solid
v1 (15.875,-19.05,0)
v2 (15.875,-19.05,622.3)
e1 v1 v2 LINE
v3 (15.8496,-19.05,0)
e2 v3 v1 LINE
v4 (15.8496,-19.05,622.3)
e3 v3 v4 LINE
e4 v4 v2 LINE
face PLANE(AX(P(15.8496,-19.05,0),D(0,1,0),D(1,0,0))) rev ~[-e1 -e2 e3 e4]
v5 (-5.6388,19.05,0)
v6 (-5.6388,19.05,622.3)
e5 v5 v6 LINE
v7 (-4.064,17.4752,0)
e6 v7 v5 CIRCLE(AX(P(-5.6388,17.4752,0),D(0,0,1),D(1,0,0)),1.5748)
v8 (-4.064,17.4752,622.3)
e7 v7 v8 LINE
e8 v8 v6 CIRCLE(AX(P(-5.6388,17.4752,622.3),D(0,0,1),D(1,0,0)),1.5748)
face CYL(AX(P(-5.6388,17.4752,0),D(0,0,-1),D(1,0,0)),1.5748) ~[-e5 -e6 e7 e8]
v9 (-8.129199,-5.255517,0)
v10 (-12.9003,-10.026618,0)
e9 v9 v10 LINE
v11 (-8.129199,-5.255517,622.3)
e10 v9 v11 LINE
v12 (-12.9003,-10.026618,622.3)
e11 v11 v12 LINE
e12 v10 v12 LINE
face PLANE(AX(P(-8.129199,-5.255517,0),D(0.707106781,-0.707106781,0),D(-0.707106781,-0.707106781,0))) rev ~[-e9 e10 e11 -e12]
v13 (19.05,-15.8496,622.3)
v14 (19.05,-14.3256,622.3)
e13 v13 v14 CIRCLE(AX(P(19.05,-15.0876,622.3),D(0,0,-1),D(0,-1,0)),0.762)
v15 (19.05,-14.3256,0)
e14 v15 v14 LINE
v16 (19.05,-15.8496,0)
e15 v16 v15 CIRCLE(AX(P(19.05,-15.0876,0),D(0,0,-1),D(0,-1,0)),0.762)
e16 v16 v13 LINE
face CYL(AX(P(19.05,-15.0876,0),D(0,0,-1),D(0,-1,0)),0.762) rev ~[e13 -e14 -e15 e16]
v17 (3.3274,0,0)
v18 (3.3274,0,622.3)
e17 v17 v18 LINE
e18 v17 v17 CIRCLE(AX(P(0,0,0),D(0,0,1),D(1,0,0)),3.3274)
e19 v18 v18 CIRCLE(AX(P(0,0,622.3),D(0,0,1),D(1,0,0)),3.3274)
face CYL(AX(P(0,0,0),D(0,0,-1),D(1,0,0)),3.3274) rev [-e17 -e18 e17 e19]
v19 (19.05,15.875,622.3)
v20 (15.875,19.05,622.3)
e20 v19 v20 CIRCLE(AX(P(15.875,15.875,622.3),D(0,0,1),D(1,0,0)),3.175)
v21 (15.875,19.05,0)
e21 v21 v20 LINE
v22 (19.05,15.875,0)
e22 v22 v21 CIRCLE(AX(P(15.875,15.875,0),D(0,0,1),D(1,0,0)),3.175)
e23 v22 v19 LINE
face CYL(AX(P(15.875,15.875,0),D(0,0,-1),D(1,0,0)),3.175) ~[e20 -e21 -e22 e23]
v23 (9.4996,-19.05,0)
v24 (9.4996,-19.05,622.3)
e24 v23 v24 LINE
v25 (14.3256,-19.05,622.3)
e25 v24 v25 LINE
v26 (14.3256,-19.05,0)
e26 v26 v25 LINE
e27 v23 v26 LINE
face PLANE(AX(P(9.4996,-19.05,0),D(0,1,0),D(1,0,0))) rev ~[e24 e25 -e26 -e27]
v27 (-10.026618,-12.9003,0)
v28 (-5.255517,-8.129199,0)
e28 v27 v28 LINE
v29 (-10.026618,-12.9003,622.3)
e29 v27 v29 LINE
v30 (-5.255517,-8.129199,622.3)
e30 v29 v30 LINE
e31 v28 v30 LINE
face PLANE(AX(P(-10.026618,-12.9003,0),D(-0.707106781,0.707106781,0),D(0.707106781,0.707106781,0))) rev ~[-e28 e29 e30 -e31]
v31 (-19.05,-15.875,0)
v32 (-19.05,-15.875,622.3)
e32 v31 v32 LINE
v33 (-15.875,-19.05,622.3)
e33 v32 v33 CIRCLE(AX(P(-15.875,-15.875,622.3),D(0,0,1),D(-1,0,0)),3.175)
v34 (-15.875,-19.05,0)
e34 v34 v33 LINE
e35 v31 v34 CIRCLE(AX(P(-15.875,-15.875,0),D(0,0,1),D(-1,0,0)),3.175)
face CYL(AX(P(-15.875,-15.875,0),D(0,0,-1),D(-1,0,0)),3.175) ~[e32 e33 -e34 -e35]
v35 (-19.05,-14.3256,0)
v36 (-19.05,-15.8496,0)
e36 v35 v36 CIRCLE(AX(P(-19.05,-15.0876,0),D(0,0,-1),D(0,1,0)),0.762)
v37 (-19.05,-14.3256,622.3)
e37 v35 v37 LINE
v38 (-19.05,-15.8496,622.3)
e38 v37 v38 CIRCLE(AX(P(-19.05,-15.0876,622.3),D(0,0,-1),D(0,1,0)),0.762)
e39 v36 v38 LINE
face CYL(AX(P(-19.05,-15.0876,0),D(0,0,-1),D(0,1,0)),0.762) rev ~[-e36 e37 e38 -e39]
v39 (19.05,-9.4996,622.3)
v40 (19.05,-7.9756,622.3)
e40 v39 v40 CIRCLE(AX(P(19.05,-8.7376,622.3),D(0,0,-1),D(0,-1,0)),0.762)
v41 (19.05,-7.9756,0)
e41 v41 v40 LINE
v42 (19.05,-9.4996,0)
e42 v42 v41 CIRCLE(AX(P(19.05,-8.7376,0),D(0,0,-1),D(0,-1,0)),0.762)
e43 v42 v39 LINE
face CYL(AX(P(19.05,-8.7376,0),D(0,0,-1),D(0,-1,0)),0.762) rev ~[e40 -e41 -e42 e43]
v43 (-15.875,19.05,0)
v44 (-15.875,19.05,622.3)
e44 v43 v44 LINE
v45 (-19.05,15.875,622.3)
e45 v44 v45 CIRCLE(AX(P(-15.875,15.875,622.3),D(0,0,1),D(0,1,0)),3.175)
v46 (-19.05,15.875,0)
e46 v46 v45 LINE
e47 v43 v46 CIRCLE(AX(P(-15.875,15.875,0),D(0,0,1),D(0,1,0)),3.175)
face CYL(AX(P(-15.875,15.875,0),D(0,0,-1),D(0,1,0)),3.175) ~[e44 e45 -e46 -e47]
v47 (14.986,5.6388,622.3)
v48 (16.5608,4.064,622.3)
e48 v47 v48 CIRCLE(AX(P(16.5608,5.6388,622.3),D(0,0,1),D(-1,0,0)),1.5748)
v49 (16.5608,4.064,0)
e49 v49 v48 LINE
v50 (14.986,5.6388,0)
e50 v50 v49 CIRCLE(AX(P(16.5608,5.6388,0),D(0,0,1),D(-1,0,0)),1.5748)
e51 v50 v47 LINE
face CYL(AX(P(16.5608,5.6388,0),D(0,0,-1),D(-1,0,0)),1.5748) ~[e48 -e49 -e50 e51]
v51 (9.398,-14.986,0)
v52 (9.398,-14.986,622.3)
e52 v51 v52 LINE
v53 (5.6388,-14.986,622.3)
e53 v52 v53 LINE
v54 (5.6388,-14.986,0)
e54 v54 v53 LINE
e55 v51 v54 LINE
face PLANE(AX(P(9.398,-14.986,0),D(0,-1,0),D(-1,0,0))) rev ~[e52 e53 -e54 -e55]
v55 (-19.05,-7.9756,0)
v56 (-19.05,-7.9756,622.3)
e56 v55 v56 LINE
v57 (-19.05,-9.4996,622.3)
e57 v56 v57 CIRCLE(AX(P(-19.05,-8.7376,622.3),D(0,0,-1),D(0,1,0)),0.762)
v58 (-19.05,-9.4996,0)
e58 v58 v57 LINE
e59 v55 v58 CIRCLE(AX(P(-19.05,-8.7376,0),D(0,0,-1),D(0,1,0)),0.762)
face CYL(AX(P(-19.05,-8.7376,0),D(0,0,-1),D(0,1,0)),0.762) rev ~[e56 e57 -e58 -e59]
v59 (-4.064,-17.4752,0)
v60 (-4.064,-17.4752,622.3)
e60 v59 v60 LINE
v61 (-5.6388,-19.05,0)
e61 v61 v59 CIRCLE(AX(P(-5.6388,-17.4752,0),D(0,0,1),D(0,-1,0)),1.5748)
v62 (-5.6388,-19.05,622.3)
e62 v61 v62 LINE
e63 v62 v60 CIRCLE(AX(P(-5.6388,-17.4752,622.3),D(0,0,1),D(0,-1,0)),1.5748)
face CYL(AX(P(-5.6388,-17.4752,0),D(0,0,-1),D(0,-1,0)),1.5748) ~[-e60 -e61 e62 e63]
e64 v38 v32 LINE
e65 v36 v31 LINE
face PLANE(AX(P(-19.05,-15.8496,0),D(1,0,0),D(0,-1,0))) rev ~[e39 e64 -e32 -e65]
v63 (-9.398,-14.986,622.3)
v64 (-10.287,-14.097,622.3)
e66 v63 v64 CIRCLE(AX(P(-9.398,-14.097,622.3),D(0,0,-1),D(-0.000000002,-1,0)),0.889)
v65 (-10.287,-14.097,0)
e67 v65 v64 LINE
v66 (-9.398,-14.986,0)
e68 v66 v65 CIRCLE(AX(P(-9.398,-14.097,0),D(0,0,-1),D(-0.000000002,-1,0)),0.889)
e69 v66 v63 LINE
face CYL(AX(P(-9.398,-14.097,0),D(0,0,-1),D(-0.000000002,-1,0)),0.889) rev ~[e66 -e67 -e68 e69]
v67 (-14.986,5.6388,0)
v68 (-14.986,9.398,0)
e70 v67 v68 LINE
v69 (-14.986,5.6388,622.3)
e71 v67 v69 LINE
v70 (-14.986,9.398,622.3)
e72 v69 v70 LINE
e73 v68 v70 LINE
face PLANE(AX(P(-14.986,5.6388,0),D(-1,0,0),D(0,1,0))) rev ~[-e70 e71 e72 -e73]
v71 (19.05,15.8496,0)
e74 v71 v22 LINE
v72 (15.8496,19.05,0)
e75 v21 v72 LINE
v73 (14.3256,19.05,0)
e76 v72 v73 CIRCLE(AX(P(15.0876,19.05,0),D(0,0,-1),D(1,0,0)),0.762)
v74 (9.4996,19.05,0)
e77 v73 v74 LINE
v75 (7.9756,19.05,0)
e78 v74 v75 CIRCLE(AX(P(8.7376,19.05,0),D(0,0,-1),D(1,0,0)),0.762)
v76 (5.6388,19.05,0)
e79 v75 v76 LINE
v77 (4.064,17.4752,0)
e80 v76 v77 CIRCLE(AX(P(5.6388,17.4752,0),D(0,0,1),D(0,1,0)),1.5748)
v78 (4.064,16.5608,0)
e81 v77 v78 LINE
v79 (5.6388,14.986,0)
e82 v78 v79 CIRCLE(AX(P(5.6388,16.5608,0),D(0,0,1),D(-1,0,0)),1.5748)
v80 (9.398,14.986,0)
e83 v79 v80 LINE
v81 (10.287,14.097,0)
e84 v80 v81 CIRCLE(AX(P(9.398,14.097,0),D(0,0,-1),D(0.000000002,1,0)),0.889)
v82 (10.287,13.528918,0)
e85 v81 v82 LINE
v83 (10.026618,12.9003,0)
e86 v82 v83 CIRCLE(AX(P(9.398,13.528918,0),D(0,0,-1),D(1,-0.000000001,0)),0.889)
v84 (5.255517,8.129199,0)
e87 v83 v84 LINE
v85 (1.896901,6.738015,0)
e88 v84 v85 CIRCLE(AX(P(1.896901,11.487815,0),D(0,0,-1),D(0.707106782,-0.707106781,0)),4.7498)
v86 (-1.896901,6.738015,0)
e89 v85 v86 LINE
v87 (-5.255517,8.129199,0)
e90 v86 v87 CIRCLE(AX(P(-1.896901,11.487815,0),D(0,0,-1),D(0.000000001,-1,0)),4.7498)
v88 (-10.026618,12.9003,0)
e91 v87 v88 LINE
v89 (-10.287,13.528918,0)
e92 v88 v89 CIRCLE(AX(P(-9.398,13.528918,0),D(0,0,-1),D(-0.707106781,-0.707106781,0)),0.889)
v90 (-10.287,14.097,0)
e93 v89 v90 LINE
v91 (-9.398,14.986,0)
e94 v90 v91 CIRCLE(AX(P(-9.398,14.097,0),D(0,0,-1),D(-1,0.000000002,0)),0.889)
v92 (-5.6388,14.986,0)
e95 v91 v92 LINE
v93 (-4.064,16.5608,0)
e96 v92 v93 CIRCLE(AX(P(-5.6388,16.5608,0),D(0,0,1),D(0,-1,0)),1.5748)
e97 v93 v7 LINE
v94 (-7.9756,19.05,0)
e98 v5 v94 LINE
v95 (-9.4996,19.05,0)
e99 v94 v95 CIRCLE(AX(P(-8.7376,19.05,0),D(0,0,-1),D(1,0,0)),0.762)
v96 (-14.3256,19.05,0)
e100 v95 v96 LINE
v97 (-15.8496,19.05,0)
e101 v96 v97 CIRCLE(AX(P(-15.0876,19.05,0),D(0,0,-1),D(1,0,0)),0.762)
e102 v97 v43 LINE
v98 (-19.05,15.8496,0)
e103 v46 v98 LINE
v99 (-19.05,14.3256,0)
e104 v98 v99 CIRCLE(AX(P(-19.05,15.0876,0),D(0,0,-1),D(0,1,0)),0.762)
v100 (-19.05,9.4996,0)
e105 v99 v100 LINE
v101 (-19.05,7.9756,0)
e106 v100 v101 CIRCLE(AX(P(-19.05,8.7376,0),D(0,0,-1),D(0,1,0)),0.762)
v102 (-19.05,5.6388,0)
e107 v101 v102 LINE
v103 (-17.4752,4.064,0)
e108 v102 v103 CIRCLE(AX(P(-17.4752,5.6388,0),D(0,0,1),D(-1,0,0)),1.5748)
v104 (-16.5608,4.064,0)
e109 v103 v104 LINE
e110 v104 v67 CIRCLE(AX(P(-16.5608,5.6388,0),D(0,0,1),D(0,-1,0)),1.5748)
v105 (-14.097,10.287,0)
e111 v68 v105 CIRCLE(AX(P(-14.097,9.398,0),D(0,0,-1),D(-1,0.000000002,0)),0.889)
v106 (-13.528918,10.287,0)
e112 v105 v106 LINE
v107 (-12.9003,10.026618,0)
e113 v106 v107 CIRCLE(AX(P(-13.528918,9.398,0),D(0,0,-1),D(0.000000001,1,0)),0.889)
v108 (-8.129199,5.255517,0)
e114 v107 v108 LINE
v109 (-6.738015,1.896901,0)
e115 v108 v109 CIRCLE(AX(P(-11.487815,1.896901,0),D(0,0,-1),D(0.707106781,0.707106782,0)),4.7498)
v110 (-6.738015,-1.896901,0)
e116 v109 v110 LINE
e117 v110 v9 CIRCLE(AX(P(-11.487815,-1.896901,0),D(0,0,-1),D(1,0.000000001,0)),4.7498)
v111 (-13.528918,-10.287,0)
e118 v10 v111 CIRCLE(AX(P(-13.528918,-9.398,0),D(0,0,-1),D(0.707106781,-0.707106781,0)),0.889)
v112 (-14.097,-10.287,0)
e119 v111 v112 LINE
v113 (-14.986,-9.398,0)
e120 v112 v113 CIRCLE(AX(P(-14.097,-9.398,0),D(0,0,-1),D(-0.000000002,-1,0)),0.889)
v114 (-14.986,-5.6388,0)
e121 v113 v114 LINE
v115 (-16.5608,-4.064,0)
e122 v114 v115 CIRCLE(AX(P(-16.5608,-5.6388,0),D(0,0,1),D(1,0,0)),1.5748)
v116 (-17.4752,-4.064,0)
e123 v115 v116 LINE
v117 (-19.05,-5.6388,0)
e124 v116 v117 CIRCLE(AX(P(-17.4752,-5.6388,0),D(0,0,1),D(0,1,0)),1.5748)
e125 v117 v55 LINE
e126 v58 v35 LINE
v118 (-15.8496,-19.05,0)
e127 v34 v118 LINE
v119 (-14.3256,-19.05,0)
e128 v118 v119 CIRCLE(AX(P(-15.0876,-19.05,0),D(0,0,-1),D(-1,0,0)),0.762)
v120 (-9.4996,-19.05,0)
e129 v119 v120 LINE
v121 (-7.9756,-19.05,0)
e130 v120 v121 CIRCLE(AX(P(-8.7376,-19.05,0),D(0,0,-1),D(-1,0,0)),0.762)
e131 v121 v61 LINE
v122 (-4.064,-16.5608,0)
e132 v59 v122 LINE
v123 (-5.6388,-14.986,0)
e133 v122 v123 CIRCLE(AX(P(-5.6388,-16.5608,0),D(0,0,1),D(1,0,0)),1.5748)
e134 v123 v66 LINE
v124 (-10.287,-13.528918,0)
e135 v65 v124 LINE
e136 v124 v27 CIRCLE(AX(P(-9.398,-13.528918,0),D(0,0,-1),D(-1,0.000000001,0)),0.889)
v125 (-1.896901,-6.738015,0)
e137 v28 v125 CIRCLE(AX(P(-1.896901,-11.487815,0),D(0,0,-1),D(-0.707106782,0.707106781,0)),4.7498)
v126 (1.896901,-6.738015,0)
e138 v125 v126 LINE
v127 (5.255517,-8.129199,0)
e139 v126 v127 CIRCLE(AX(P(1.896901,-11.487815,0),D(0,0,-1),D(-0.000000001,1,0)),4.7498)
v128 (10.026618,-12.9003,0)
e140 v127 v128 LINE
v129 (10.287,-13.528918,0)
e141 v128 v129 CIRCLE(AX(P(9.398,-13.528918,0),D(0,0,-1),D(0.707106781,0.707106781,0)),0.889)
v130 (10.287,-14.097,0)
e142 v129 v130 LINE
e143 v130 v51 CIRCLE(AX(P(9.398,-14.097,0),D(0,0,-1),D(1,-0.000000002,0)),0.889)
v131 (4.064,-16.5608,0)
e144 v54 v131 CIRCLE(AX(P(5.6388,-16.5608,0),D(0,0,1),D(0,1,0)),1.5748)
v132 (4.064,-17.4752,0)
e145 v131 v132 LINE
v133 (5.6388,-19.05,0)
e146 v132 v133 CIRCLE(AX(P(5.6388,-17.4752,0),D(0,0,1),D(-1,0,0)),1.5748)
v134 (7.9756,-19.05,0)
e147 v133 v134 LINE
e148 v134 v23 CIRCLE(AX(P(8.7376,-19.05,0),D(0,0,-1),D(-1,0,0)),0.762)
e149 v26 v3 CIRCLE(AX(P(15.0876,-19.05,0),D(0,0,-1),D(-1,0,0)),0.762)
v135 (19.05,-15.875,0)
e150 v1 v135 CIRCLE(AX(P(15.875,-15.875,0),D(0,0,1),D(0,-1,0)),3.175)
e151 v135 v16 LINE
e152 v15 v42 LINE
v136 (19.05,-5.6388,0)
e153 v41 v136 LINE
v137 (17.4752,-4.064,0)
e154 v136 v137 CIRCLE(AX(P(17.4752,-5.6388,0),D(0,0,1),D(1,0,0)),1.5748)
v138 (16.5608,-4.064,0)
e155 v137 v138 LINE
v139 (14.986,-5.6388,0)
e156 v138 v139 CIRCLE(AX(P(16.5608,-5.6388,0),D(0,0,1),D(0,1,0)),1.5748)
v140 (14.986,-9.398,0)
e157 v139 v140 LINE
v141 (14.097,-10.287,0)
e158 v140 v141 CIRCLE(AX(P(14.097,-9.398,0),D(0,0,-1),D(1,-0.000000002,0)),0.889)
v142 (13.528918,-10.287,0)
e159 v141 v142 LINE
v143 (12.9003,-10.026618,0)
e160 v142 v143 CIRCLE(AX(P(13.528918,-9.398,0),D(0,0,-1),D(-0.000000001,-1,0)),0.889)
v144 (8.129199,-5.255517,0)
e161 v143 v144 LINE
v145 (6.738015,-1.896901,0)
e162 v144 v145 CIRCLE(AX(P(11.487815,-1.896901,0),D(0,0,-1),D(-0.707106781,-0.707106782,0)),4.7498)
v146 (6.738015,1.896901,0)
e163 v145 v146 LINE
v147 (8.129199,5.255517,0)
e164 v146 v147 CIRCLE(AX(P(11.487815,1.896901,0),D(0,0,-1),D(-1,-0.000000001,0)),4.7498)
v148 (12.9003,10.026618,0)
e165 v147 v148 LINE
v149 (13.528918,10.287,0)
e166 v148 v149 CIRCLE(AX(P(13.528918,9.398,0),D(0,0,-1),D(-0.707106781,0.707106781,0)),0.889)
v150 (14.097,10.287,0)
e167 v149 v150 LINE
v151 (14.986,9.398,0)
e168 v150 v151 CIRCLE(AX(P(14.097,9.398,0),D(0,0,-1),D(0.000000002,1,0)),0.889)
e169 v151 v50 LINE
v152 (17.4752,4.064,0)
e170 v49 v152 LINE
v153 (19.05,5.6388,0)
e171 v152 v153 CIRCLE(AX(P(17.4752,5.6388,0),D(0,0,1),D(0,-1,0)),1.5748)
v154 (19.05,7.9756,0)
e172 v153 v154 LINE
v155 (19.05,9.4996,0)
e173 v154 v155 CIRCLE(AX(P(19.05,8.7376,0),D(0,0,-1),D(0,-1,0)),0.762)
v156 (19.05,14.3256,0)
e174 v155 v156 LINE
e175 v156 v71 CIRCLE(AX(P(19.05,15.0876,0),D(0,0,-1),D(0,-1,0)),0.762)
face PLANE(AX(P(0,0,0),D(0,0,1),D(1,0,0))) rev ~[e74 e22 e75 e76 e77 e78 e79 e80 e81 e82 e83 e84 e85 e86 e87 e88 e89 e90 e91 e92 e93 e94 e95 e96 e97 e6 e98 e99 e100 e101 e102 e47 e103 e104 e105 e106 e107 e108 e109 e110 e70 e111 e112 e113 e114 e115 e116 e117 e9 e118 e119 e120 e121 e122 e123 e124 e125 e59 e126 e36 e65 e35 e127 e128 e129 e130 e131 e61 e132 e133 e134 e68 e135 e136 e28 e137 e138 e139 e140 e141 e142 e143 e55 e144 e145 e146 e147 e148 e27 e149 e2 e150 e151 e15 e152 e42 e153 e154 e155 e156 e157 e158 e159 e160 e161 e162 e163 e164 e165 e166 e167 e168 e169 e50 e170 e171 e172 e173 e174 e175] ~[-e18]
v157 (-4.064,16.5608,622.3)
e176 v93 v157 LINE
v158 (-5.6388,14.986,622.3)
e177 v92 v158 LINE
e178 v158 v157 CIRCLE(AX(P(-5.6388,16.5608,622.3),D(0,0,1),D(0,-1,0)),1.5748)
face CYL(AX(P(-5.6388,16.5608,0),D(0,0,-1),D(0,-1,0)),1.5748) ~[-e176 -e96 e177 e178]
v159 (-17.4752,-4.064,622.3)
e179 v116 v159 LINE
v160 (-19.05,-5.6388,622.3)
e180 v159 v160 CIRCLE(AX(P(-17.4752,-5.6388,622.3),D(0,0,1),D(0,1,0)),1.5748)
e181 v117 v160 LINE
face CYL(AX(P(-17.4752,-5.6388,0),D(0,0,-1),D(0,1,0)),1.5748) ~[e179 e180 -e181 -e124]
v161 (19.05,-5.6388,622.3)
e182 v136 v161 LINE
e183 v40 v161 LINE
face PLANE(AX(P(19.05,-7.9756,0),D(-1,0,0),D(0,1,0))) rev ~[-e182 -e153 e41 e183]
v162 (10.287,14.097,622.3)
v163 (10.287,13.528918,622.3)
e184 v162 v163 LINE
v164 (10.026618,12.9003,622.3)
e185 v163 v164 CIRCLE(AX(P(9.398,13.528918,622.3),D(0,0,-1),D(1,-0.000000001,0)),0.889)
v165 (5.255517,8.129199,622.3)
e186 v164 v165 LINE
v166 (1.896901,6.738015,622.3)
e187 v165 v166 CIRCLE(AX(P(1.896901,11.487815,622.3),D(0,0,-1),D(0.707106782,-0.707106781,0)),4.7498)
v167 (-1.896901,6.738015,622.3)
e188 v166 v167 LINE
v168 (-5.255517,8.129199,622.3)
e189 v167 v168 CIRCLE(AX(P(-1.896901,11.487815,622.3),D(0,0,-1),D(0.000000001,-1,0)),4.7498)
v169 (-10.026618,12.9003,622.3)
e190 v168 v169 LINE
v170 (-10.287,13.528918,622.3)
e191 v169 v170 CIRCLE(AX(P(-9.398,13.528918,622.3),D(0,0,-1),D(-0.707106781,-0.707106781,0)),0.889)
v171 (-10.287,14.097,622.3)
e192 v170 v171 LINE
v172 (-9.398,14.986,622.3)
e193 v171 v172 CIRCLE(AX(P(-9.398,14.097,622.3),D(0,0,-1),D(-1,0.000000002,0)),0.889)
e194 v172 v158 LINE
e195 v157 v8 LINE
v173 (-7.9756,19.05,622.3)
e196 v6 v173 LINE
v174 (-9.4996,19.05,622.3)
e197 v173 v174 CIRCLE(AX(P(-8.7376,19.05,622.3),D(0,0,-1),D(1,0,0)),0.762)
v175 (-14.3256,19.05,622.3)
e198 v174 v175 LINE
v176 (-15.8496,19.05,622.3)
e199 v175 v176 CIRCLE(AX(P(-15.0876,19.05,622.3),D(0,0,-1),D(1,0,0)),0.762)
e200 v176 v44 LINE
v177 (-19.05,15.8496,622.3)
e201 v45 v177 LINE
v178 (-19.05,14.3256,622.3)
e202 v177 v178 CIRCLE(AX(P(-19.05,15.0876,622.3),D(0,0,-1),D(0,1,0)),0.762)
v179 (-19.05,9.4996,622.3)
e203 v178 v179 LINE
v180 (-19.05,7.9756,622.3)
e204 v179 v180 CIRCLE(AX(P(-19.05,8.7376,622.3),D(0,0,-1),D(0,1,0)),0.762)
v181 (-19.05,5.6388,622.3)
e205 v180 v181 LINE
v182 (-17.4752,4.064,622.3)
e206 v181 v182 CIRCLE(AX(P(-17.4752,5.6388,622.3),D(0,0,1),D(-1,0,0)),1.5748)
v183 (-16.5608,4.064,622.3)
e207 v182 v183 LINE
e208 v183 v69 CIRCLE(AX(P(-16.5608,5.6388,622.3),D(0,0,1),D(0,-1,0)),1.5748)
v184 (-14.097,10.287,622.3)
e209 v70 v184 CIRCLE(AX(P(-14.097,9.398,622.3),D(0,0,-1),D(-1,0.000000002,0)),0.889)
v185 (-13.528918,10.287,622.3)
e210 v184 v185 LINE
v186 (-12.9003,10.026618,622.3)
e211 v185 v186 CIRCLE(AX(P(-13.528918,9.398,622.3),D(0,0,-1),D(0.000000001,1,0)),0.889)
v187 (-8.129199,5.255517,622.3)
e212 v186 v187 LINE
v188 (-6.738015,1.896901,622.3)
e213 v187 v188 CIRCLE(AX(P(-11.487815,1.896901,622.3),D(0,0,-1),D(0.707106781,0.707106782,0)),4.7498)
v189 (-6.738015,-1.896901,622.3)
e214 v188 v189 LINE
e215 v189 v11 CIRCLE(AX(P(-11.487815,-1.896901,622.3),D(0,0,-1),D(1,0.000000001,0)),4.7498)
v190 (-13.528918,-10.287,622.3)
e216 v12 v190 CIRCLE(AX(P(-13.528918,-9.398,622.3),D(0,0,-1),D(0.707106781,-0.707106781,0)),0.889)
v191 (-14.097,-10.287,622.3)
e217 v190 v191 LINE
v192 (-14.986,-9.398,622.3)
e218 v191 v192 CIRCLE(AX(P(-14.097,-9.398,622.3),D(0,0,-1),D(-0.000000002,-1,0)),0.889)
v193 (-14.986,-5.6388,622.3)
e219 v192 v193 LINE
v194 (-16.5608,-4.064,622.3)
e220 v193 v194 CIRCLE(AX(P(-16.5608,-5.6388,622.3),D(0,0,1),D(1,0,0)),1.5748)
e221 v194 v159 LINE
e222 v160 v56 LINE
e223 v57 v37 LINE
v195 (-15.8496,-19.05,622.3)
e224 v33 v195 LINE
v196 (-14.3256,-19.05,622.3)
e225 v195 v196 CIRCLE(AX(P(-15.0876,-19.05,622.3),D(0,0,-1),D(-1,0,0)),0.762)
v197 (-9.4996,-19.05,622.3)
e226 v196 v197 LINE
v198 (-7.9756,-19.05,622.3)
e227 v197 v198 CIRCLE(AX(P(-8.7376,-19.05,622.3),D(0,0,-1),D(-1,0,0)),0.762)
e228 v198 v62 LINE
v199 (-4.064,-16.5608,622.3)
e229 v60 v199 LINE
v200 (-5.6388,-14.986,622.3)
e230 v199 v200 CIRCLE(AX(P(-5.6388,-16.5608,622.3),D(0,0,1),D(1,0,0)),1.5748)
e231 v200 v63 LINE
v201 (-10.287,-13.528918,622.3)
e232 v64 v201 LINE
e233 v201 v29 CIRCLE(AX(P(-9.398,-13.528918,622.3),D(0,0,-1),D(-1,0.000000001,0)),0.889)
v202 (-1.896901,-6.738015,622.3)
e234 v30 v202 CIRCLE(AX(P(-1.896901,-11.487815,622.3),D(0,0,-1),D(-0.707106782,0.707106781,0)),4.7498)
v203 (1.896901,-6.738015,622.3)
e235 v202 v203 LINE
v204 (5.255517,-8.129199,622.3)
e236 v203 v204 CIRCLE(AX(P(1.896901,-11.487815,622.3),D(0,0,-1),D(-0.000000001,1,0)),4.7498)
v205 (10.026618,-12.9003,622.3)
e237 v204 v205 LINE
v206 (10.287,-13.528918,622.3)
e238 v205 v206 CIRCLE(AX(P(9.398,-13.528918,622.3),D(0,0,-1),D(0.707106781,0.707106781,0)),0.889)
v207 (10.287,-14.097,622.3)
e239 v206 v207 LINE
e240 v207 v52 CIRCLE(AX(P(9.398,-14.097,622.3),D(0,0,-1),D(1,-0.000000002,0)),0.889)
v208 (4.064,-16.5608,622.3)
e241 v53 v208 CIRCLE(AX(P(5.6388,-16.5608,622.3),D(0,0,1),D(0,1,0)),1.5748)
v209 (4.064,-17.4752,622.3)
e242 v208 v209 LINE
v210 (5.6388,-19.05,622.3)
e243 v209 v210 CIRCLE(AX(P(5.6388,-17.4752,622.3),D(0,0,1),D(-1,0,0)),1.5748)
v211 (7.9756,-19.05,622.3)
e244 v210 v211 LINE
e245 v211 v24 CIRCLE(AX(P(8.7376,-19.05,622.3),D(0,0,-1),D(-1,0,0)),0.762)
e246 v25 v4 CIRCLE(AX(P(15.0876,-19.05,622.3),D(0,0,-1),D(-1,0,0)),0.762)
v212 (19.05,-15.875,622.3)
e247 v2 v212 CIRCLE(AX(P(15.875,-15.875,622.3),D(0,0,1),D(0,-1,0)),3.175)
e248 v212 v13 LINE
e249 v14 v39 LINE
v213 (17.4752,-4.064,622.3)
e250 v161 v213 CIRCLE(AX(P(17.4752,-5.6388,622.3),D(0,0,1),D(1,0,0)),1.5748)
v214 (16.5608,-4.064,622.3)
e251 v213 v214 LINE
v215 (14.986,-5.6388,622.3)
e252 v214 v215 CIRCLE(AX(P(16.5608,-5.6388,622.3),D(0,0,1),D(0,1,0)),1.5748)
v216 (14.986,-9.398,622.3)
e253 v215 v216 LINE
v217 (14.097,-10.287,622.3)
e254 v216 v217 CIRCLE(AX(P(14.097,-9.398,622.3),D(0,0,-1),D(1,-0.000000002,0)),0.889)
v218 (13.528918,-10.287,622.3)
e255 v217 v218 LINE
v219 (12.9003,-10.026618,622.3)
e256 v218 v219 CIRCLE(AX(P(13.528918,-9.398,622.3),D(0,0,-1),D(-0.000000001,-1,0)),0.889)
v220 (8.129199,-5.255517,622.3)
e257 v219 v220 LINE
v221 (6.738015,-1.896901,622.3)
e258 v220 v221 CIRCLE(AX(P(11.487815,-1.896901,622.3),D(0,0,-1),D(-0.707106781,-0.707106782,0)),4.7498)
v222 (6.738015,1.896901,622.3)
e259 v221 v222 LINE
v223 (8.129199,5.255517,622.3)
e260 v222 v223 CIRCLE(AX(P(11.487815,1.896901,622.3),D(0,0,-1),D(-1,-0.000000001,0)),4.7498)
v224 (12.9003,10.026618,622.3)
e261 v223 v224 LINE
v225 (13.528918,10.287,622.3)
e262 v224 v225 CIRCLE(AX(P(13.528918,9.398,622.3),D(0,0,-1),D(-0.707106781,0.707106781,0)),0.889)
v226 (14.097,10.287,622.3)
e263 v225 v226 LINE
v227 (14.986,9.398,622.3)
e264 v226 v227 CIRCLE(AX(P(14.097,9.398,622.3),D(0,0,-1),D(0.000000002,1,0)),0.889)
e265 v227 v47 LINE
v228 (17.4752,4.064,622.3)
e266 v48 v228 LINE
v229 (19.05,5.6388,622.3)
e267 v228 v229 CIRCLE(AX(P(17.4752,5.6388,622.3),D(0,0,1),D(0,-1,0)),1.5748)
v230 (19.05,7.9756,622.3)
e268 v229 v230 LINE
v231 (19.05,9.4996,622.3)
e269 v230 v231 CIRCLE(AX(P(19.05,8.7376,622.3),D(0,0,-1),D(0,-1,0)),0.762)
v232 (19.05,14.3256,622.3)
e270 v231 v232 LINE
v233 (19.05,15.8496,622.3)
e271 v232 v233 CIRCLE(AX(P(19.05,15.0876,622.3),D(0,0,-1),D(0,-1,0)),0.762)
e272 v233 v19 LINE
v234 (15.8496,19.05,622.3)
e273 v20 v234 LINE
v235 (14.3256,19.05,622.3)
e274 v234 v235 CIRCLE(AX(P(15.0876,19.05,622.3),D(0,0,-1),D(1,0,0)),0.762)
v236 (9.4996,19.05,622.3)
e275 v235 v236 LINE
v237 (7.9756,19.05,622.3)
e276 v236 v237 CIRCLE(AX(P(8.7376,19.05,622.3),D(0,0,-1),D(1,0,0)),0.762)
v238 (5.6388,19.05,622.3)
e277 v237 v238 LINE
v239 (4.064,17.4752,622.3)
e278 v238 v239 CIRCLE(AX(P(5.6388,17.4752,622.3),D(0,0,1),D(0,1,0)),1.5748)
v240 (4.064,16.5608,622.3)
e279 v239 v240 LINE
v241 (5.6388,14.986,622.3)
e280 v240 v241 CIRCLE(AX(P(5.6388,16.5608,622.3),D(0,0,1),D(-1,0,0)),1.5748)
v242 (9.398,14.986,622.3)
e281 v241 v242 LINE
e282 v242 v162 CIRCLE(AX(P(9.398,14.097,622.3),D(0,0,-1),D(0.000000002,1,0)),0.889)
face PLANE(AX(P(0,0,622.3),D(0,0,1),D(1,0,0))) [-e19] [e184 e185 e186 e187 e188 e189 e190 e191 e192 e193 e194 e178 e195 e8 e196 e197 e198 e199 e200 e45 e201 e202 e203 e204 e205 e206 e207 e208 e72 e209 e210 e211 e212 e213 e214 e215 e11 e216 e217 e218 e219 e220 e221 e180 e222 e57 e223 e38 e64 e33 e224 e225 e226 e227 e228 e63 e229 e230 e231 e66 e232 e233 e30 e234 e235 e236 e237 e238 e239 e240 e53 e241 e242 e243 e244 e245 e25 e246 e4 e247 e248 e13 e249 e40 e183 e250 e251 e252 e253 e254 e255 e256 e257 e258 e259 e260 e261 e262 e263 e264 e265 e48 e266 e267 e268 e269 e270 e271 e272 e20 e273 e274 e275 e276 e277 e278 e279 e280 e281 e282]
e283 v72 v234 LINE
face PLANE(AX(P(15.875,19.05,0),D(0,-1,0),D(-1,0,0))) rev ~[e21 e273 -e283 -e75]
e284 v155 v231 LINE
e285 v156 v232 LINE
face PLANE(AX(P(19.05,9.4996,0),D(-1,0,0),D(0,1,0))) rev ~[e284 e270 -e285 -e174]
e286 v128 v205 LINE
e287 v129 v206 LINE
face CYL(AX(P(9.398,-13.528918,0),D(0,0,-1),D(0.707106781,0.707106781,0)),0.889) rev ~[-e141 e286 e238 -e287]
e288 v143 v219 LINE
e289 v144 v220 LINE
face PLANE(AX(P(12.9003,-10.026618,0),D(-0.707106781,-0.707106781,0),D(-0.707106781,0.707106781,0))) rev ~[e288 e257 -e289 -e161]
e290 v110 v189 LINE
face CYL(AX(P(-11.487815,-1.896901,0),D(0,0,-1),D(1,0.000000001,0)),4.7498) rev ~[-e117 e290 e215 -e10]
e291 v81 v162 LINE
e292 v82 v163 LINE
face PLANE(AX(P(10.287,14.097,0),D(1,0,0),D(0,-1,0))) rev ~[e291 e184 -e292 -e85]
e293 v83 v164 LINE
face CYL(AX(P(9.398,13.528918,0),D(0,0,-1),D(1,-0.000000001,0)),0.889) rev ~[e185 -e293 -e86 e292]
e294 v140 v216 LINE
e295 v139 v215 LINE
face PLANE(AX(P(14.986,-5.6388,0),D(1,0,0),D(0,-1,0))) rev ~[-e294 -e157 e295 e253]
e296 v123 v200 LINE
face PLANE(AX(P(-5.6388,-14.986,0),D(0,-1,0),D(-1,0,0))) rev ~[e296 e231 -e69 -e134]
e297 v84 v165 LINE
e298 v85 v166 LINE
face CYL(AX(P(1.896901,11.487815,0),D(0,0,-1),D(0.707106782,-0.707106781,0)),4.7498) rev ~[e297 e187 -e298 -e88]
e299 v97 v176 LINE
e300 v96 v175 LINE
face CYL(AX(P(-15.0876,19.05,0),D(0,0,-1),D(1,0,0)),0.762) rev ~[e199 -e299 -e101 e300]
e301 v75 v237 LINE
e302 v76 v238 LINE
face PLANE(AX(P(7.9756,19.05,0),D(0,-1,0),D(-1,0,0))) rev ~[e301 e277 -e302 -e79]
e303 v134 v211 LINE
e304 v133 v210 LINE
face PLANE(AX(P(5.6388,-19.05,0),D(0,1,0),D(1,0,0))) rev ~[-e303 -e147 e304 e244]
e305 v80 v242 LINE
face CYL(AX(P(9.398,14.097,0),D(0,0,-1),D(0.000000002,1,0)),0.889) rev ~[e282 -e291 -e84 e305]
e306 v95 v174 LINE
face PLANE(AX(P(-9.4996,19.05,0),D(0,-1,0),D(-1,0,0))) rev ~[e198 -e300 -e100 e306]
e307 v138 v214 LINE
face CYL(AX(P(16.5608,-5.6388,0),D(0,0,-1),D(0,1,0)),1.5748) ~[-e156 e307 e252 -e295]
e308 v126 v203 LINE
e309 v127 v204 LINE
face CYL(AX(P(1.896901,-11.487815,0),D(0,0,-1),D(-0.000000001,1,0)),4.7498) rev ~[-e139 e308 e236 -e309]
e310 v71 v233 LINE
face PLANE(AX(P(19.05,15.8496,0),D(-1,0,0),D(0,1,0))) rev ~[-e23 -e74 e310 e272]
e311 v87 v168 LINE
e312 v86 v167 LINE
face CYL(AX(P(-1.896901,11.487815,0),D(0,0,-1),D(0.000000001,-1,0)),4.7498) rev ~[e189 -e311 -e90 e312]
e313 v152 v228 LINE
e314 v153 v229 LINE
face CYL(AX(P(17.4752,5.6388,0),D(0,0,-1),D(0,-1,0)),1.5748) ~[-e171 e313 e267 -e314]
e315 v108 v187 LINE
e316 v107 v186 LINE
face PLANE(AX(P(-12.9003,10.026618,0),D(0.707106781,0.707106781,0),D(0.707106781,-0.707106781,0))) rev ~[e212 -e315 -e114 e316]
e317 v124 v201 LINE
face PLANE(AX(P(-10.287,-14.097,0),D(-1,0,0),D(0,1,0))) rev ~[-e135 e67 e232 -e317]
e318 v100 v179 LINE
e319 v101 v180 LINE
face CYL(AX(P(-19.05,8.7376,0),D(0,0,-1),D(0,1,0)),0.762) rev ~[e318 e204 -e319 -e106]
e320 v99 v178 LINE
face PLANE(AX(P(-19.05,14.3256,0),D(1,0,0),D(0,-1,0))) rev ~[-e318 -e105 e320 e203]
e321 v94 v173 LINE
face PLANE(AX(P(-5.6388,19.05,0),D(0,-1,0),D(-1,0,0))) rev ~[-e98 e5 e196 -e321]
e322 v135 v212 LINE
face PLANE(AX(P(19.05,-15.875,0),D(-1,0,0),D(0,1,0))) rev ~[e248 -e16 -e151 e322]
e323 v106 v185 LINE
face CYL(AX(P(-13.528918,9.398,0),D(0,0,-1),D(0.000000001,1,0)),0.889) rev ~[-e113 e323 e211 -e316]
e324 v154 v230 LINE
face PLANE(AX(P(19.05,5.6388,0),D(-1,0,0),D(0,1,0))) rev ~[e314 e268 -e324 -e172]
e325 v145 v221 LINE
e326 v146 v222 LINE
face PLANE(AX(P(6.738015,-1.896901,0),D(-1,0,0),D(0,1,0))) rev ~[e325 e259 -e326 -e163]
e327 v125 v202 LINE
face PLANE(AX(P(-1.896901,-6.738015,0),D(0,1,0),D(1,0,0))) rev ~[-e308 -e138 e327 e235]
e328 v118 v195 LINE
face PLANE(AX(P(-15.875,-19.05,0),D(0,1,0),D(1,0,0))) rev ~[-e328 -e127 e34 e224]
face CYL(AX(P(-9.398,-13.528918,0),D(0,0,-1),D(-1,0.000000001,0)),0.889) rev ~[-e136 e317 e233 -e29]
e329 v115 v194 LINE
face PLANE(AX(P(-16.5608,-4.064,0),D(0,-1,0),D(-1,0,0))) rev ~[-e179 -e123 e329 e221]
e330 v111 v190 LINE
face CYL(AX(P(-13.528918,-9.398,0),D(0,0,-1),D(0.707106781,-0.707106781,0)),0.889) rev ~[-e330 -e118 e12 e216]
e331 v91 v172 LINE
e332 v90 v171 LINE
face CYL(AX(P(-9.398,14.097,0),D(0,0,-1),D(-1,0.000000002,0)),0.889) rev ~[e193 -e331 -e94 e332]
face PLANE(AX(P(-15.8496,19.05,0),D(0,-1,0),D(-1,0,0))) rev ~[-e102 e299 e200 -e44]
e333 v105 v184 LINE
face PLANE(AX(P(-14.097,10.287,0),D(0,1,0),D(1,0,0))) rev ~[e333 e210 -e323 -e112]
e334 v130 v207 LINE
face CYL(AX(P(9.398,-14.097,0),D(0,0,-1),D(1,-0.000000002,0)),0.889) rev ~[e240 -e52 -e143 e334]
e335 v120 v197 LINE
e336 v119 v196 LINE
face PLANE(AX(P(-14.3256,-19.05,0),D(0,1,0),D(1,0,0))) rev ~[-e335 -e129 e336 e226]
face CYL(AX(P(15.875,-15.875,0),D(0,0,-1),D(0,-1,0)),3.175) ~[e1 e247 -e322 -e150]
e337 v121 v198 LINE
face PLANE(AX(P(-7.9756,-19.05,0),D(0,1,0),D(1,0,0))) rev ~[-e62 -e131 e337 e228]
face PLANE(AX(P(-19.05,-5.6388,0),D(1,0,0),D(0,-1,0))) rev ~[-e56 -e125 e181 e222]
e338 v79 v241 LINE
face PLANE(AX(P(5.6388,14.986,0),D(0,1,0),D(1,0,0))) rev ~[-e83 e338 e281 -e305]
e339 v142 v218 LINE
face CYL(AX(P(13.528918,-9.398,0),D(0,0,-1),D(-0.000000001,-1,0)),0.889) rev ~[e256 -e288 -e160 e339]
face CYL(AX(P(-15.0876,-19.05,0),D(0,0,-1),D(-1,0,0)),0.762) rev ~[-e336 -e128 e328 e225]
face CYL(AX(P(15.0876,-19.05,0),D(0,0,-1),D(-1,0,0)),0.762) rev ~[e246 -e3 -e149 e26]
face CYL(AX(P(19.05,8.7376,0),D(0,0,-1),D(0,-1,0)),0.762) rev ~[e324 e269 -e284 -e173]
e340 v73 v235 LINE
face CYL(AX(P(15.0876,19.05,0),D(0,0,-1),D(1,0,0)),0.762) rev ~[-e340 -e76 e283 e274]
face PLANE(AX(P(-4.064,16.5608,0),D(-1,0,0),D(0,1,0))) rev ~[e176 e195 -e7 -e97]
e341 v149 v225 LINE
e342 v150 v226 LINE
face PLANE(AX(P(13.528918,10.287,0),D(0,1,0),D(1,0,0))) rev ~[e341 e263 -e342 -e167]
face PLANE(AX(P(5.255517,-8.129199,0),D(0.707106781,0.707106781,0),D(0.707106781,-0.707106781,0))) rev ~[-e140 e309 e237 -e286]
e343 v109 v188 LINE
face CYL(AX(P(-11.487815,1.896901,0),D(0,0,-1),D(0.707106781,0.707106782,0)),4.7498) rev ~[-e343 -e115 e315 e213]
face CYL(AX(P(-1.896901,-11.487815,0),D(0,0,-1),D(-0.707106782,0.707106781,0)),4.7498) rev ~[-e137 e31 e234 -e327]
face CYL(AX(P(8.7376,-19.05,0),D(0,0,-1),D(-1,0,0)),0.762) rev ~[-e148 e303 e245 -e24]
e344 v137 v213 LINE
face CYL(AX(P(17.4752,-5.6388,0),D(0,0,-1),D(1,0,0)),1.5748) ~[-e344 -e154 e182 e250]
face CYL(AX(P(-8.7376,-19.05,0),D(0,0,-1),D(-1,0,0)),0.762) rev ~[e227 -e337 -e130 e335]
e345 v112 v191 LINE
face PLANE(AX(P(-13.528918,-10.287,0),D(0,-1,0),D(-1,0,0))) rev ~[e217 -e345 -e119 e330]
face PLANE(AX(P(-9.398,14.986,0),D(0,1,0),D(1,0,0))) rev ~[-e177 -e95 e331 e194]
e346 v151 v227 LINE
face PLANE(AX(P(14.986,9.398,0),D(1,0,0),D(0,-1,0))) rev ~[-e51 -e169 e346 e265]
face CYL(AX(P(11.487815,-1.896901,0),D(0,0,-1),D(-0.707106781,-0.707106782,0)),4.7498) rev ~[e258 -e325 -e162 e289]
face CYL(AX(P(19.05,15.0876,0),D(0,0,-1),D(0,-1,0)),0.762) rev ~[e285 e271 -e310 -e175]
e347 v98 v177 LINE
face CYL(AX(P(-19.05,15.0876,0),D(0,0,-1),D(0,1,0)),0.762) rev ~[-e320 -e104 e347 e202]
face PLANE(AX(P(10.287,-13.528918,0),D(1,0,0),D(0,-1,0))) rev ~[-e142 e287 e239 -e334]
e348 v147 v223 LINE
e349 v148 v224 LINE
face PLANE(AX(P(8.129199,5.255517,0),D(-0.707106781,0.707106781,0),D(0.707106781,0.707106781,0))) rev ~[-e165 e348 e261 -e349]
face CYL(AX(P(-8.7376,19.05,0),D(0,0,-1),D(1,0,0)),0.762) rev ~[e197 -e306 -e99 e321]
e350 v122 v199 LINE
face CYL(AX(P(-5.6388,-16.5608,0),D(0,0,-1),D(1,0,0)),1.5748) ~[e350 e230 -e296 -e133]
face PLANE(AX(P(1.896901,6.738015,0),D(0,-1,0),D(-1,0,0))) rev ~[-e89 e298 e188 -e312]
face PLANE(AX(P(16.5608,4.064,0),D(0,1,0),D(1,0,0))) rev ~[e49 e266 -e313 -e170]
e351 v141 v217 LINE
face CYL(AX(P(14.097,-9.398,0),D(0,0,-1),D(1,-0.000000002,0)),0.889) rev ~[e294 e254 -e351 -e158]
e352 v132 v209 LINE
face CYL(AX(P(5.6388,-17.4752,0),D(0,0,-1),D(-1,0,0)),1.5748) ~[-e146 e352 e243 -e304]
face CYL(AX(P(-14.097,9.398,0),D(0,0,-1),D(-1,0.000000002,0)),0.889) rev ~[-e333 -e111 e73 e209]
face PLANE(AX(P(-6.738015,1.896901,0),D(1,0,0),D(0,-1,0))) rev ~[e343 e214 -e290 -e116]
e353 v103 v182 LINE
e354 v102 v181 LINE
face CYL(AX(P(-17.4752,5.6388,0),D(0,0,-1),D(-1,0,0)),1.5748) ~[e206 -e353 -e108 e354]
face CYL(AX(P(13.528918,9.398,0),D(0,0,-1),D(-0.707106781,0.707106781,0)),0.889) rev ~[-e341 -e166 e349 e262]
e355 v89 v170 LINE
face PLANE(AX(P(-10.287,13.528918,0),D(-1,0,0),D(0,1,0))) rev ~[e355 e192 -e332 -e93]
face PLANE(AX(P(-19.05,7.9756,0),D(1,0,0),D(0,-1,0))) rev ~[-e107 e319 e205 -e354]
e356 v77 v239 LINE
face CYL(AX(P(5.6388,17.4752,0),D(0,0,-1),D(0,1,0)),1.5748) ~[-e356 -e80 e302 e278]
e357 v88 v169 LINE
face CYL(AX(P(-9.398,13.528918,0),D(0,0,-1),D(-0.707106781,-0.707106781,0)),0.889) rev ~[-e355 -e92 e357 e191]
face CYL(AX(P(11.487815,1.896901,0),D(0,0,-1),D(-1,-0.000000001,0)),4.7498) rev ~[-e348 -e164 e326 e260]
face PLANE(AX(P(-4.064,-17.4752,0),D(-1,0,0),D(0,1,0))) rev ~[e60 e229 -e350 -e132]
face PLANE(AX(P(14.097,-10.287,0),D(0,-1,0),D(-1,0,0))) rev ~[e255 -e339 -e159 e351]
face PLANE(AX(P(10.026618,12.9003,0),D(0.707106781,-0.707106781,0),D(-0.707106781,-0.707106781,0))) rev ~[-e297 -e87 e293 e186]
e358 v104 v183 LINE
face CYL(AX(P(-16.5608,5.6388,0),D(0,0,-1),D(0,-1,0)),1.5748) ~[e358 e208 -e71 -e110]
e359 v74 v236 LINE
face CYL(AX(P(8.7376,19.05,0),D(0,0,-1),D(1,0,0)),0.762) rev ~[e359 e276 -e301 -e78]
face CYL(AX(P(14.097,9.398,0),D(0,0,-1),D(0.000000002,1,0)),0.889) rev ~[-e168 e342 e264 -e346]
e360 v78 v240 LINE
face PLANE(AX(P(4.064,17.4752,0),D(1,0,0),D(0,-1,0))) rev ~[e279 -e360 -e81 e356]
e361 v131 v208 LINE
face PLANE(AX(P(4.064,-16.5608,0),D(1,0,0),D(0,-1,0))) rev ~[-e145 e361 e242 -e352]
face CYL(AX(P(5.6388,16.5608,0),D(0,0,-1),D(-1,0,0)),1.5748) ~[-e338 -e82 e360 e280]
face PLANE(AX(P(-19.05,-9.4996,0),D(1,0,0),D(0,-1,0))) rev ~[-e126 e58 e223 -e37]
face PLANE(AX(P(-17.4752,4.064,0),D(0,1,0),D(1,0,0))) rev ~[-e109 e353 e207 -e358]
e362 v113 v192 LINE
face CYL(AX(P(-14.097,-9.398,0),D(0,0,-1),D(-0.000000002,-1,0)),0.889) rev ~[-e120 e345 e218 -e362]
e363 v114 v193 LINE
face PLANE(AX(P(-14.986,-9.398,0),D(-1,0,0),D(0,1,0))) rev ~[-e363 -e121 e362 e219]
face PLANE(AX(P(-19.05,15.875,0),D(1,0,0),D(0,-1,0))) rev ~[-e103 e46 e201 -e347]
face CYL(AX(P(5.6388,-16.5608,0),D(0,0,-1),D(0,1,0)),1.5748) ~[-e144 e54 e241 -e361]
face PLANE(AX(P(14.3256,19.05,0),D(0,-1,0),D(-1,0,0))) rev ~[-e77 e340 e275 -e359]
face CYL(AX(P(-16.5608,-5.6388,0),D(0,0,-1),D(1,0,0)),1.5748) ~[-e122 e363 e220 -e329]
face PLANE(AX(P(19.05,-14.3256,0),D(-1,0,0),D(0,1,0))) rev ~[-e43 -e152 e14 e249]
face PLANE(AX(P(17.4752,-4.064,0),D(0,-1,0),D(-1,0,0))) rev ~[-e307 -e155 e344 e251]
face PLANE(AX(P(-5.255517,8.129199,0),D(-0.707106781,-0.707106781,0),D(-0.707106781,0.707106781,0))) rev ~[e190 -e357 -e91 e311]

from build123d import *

# Parameters (mm, degrees)
SKETCH1_R           = 3.3274
BOSS_EXTRUDE1_DEPTH = 622.3


with BuildPart() as part:
    # Sketch1 → Boss-Extrude1 (new body)
    with BuildSketch(Plane.XY):
        with BuildLine():
            Line((-14.097, 10.287), (-13.528918, 10.287))
            ThreePointArc((-13.528918, 10.287), (-13.188712428, 10.219328904), (-12.900300071, 10.026617928))
            Line((-12.900300071, 10.026617928), (-8.129198975, 5.255516832))
            ThreePointArc((-8.129198975, 5.255516832), (-7.09957176, 3.71457081), (-6.738014764, 1.896901043))
            Line((-6.738014764, 1.896901043), (-6.738014764, -1.896901043))
            ThreePointArc((-6.738014764, -1.896901043), (-7.09957176, -3.71457081), (-8.129198975, -5.255516832))
            Line((-8.129198975, -5.255516832), (-12.900300071, -10.026617928))
            ThreePointArc((-12.900300071, -10.026617928), (-13.188712428, -10.219328904), (-13.528918, -10.287))
            Line((-13.528918, -10.287), (-14.097, -10.287))
            ThreePointArc((-14.097, -10.287), (-14.725617928, -10.026617928), (-14.986, -9.398))
            Line((-14.986, -9.398), (-14.986, -5.6388))
            ThreePointArc((-14.986, -5.6388), (-15.447248241, -4.525248241), (-16.5608, -4.064))
            Line((-16.5608, -4.064), (-17.4752, -4.064))
            ThreePointArc((-17.4752, -4.064), (-18.588751759, -4.525248241), (-19.05, -5.6388))
            Line((-19.05, -5.6388), (-19.05, -7.9756))
            ThreePointArc((-19.05, -7.9756), (-18.288, -8.7376), (-19.05, -9.4996))
            Line((-19.05, -9.4996), (-19.05, -14.3256))
            ThreePointArc((-19.05, -14.3256), (-18.288, -15.0876), (-19.05, -15.8496))
            Line((-19.05, -15.8496), (-19.05, -15.875))
            ThreePointArc((-19.05, -15.875), (-18.12006403, -18.12006403), (-15.875, -19.05))
            Line((-15.875, -19.05), (-15.8496, -19.05))
            ThreePointArc((-15.8496, -19.05), (-15.0876, -18.288), (-14.3256, -19.05))
            Line((-14.3256, -19.05), (-9.4996, -19.05))
            ThreePointArc((-9.4996, -19.05), (-8.7376, -18.288), (-7.9756, -19.05))
            Line((-7.9756, -19.05), (-5.6388, -19.05))
            ThreePointArc((-5.6388, -19.05), (-4.525248241, -18.588751759), (-4.064, -17.4752))
            Line((-4.064, -17.4752), (-4.064, -16.5608))
            ThreePointArc((-4.064, -16.5608), (-4.525248241, -15.447248241), (-5.6388, -14.986))
            Line((-5.6388, -14.986), (-9.398, -14.986))
            ThreePointArc((-9.398, -14.986), (-10.026617928, -14.725617928), (-10.287, -14.097))
            Line((-10.287, -14.097), (-10.287, -13.528918))
            ThreePointArc((-10.287, -13.528918), (-10.219328904, -13.188712428), (-10.026617928, -12.900300071))
            Line((-10.026617928, -12.900300071), (-5.255516832, -8.129198975))
            ThreePointArc((-5.255516832, -8.129198975), (-3.71457081, -7.09957176), (-1.896901043, -6.738014764))
            Line((-1.896901043, -6.738014764), (1.896901043, -6.738014764))
            ThreePointArc((1.896901043, -6.738014764), (3.71457081, -7.09957176), (5.255516832, -8.129198975))
            Line((5.255516832, -8.129198975), (10.026617928, -12.900300071))
            ThreePointArc((10.026617928, -12.900300071), (10.219328904, -13.188712428), (10.287, -13.528918))
            Line((10.287, -13.528918), (10.287, -14.097))
            ThreePointArc((10.287, -14.097), (10.026617928, -14.725617928), (9.398, -14.986))
            Line((9.398, -14.986), (5.6388, -14.986))
            ThreePointArc((5.6388, -14.986), (4.525248241, -15.447248241), (4.064, -16.5608))
            Line((4.064, -16.5608), (4.064, -17.4752))
            ThreePointArc((4.064, -17.4752), (4.525248241, -18.588751759), (5.6388, -19.05))
            Line((5.6388, -19.05), (7.9756, -19.05))
            ThreePointArc((7.9756, -19.05), (8.7376, -18.288), (9.4996, -19.05))
            Line((9.4996, -19.05), (14.3256, -19.05))
            ThreePointArc((14.3256, -19.05), (15.0876, -18.288), (15.8496, -19.05))
            Line((15.8496, -19.05), (15.875, -19.05))
            ThreePointArc((15.875, -19.05), (18.12006403, -18.12006403), (19.05, -15.875))
            Line((19.05, -15.875), (19.05, -15.8496))
            ThreePointArc((19.05, -15.8496), (18.288, -15.0876), (19.05, -14.3256))
            Line((19.05, -14.3256), (19.05, -9.4996))
            ThreePointArc((19.05, -9.4996), (18.288, -8.7376), (19.05, -7.9756))
            Line((19.05, -7.9756), (19.05, -5.6388))
            ThreePointArc((19.05, -5.6388), (18.588751759, -4.525248241), (17.4752, -4.064))
            Line((17.4752, -4.064), (16.5608, -4.064))
            ThreePointArc((16.5608, -4.064), (15.447248241, -4.525248241), (14.986, -5.6388))
            Line((14.986, -5.6388), (14.986, -9.398))
            ThreePointArc((14.986, -9.398), (14.725617928, -10.026617928), (14.097, -10.287))
            Line((14.097, -10.287), (13.528918, -10.287))
            ThreePointArc((13.528918, -10.287), (13.188712428, -10.219328904), (12.900300071, -10.026617928))
            Line((12.900300071, -10.026617928), (8.129198975, -5.255516832))
            ThreePointArc((8.129198975, -5.255516832), (7.09957176, -3.71457081), (6.738014764, -1.896901043))
            Line((6.738014764, -1.896901043), (6.738014764, 1.896901043))
            ThreePointArc((6.738014764, 1.896901043), (7.09957176, 3.71457081), (8.129198975, 5.255516832))
            Line((8.129198975, 5.255516832), (12.900300071, 10.026617928))
            ThreePointArc((12.900300071, 10.026617928), (13.188712428, 10.219328904), (13.528918, 10.287))
            Line((13.528918, 10.287), (14.097, 10.287))
            ThreePointArc((14.097, 10.287), (14.725617928, 10.026617928), (14.986, 9.398))
            Line((14.986, 9.398), (14.986, 5.6388))
            ThreePointArc((14.986, 5.6388), (15.447248241, 4.525248241), (16.5608, 4.064))
            Line((16.5608, 4.064), (17.4752, 4.064))
            ThreePointArc((17.4752, 4.064), (18.588751759, 4.525248241), (19.05, 5.6388))
            Line((19.05, 5.6388), (19.05, 7.9756))
            ThreePointArc((19.05, 7.9756), (18.288, 8.7376), (19.05, 9.4996))
            Line((19.05, 9.4996), (19.05, 14.3256))
            ThreePointArc((19.05, 14.3256), (18.288, 15.0876), (19.05, 15.8496))
            Line((19.05, 15.8496), (19.05, 15.875))
            ThreePointArc((19.05, 15.875), (18.12006403, 18.12006403), (15.875, 19.05))
            Line((15.875, 19.05), (15.8496, 19.05))
            ThreePointArc((15.8496, 19.05), (15.0876, 18.288), (14.3256, 19.05))
            Line((14.3256, 19.05), (9.4996, 19.05))
            ThreePointArc((9.4996, 19.05), (8.7376, 18.288), (7.9756, 19.05))
            Line((7.9756, 19.05), (5.6388, 19.05))
            ThreePointArc((5.6388, 19.05), (4.525248241, 18.588751759), (4.064, 17.4752))
            Line((4.064, 17.4752), (4.064, 16.5608))
            ThreePointArc((4.064, 16.5608), (4.525248241, 15.447248241), (5.6388, 14.986))
            Line((5.6388, 14.986), (9.398, 14.986))
            ThreePointArc((9.398, 14.986), (10.026617928, 14.725617928), (10.287, 14.097))
            Line((10.287, 14.097), (10.287, 13.528918))
            ThreePointArc((10.287, 13.528918), (10.219328904, 13.188712428), (10.026617928, 12.900300071))
            Line((10.026617928, 12.900300071), (5.255516832, 8.129198975))
            ThreePointArc((5.255516832, 8.129198975), (3.71457081, 7.09957176), (1.896901043, 6.738014764))
            Line((1.896901043, 6.738014764), (-1.896901043, 6.738014764))
            ThreePointArc((-1.896901043, 6.738014764), (-3.71457081, 7.09957176), (-5.255516832, 8.129198975))
            Line((-5.255516832, 8.129198975), (-10.026617928, 12.900300071))
            ThreePointArc((-10.026617928, 12.900300071), (-10.219328904, 13.188712428), (-10.287, 13.528918))
            Line((-10.287, 13.528918), (-10.287, 14.097))
            ThreePointArc((-10.287, 14.097), (-10.026617928, 14.725617928), (-9.398, 14.986))
            Line((-9.398, 14.986), (-5.6388, 14.986))
            ThreePointArc((-5.6388, 14.986), (-4.525248241, 15.447248241), (-4.064, 16.5608))
            Line((-4.064, 16.5608), (-4.064, 17.4752))
            ThreePointArc((-4.064, 17.4752), (-4.525248241, 18.588751759), (-5.6388, 19.05))
            Line((-5.6388, 19.05), (-7.9756, 19.05))
            ThreePointArc((-7.9756, 19.05), (-8.7376, 18.288), (-9.4996, 19.05))
            Line((-9.4996, 19.05), (-14.3256, 19.05))
            ThreePointArc((-14.3256, 19.05), (-15.0876, 18.288), (-15.8496, 19.05))
            Line((-15.8496, 19.05), (-15.875, 19.05))
            ThreePointArc((-15.875, 19.05), (-18.12006403, 18.12006403), (-19.05, 15.875))
            Line((-19.05, 15.875), (-19.05, 15.8496))
            ThreePointArc((-19.05, 15.8496), (-18.288, 15.0876), (-19.05, 14.3256))
            Line((-19.05, 14.3256), (-19.05, 9.4996))
            ThreePointArc((-19.05, 9.4996), (-18.288, 8.7376), (-19.05, 7.9756))
            Line((-19.05, 7.9756), (-19.05, 5.6388))
            ThreePointArc((-19.05, 5.6388), (-18.588751759, 4.525248241), (-17.4752, 4.064))
            Line((-17.4752, 4.064), (-16.5608, 4.064))
            ThreePointArc((-16.5608, 4.064), (-15.447248241, 4.525248241), (-14.986, 5.6388))
            Line((-14.986, 5.6388), (-14.986, 9.398))
            ThreePointArc((-14.986, 9.398), (-14.725617928, 10.026617928), (-14.097, 10.287))
        make_face()
        Circle(SKETCH1_R, mode=Mode.SUBTRACT)
    extrude(amount=BOSS_EXTRUDE1_DEPTH)


solid = part.part
